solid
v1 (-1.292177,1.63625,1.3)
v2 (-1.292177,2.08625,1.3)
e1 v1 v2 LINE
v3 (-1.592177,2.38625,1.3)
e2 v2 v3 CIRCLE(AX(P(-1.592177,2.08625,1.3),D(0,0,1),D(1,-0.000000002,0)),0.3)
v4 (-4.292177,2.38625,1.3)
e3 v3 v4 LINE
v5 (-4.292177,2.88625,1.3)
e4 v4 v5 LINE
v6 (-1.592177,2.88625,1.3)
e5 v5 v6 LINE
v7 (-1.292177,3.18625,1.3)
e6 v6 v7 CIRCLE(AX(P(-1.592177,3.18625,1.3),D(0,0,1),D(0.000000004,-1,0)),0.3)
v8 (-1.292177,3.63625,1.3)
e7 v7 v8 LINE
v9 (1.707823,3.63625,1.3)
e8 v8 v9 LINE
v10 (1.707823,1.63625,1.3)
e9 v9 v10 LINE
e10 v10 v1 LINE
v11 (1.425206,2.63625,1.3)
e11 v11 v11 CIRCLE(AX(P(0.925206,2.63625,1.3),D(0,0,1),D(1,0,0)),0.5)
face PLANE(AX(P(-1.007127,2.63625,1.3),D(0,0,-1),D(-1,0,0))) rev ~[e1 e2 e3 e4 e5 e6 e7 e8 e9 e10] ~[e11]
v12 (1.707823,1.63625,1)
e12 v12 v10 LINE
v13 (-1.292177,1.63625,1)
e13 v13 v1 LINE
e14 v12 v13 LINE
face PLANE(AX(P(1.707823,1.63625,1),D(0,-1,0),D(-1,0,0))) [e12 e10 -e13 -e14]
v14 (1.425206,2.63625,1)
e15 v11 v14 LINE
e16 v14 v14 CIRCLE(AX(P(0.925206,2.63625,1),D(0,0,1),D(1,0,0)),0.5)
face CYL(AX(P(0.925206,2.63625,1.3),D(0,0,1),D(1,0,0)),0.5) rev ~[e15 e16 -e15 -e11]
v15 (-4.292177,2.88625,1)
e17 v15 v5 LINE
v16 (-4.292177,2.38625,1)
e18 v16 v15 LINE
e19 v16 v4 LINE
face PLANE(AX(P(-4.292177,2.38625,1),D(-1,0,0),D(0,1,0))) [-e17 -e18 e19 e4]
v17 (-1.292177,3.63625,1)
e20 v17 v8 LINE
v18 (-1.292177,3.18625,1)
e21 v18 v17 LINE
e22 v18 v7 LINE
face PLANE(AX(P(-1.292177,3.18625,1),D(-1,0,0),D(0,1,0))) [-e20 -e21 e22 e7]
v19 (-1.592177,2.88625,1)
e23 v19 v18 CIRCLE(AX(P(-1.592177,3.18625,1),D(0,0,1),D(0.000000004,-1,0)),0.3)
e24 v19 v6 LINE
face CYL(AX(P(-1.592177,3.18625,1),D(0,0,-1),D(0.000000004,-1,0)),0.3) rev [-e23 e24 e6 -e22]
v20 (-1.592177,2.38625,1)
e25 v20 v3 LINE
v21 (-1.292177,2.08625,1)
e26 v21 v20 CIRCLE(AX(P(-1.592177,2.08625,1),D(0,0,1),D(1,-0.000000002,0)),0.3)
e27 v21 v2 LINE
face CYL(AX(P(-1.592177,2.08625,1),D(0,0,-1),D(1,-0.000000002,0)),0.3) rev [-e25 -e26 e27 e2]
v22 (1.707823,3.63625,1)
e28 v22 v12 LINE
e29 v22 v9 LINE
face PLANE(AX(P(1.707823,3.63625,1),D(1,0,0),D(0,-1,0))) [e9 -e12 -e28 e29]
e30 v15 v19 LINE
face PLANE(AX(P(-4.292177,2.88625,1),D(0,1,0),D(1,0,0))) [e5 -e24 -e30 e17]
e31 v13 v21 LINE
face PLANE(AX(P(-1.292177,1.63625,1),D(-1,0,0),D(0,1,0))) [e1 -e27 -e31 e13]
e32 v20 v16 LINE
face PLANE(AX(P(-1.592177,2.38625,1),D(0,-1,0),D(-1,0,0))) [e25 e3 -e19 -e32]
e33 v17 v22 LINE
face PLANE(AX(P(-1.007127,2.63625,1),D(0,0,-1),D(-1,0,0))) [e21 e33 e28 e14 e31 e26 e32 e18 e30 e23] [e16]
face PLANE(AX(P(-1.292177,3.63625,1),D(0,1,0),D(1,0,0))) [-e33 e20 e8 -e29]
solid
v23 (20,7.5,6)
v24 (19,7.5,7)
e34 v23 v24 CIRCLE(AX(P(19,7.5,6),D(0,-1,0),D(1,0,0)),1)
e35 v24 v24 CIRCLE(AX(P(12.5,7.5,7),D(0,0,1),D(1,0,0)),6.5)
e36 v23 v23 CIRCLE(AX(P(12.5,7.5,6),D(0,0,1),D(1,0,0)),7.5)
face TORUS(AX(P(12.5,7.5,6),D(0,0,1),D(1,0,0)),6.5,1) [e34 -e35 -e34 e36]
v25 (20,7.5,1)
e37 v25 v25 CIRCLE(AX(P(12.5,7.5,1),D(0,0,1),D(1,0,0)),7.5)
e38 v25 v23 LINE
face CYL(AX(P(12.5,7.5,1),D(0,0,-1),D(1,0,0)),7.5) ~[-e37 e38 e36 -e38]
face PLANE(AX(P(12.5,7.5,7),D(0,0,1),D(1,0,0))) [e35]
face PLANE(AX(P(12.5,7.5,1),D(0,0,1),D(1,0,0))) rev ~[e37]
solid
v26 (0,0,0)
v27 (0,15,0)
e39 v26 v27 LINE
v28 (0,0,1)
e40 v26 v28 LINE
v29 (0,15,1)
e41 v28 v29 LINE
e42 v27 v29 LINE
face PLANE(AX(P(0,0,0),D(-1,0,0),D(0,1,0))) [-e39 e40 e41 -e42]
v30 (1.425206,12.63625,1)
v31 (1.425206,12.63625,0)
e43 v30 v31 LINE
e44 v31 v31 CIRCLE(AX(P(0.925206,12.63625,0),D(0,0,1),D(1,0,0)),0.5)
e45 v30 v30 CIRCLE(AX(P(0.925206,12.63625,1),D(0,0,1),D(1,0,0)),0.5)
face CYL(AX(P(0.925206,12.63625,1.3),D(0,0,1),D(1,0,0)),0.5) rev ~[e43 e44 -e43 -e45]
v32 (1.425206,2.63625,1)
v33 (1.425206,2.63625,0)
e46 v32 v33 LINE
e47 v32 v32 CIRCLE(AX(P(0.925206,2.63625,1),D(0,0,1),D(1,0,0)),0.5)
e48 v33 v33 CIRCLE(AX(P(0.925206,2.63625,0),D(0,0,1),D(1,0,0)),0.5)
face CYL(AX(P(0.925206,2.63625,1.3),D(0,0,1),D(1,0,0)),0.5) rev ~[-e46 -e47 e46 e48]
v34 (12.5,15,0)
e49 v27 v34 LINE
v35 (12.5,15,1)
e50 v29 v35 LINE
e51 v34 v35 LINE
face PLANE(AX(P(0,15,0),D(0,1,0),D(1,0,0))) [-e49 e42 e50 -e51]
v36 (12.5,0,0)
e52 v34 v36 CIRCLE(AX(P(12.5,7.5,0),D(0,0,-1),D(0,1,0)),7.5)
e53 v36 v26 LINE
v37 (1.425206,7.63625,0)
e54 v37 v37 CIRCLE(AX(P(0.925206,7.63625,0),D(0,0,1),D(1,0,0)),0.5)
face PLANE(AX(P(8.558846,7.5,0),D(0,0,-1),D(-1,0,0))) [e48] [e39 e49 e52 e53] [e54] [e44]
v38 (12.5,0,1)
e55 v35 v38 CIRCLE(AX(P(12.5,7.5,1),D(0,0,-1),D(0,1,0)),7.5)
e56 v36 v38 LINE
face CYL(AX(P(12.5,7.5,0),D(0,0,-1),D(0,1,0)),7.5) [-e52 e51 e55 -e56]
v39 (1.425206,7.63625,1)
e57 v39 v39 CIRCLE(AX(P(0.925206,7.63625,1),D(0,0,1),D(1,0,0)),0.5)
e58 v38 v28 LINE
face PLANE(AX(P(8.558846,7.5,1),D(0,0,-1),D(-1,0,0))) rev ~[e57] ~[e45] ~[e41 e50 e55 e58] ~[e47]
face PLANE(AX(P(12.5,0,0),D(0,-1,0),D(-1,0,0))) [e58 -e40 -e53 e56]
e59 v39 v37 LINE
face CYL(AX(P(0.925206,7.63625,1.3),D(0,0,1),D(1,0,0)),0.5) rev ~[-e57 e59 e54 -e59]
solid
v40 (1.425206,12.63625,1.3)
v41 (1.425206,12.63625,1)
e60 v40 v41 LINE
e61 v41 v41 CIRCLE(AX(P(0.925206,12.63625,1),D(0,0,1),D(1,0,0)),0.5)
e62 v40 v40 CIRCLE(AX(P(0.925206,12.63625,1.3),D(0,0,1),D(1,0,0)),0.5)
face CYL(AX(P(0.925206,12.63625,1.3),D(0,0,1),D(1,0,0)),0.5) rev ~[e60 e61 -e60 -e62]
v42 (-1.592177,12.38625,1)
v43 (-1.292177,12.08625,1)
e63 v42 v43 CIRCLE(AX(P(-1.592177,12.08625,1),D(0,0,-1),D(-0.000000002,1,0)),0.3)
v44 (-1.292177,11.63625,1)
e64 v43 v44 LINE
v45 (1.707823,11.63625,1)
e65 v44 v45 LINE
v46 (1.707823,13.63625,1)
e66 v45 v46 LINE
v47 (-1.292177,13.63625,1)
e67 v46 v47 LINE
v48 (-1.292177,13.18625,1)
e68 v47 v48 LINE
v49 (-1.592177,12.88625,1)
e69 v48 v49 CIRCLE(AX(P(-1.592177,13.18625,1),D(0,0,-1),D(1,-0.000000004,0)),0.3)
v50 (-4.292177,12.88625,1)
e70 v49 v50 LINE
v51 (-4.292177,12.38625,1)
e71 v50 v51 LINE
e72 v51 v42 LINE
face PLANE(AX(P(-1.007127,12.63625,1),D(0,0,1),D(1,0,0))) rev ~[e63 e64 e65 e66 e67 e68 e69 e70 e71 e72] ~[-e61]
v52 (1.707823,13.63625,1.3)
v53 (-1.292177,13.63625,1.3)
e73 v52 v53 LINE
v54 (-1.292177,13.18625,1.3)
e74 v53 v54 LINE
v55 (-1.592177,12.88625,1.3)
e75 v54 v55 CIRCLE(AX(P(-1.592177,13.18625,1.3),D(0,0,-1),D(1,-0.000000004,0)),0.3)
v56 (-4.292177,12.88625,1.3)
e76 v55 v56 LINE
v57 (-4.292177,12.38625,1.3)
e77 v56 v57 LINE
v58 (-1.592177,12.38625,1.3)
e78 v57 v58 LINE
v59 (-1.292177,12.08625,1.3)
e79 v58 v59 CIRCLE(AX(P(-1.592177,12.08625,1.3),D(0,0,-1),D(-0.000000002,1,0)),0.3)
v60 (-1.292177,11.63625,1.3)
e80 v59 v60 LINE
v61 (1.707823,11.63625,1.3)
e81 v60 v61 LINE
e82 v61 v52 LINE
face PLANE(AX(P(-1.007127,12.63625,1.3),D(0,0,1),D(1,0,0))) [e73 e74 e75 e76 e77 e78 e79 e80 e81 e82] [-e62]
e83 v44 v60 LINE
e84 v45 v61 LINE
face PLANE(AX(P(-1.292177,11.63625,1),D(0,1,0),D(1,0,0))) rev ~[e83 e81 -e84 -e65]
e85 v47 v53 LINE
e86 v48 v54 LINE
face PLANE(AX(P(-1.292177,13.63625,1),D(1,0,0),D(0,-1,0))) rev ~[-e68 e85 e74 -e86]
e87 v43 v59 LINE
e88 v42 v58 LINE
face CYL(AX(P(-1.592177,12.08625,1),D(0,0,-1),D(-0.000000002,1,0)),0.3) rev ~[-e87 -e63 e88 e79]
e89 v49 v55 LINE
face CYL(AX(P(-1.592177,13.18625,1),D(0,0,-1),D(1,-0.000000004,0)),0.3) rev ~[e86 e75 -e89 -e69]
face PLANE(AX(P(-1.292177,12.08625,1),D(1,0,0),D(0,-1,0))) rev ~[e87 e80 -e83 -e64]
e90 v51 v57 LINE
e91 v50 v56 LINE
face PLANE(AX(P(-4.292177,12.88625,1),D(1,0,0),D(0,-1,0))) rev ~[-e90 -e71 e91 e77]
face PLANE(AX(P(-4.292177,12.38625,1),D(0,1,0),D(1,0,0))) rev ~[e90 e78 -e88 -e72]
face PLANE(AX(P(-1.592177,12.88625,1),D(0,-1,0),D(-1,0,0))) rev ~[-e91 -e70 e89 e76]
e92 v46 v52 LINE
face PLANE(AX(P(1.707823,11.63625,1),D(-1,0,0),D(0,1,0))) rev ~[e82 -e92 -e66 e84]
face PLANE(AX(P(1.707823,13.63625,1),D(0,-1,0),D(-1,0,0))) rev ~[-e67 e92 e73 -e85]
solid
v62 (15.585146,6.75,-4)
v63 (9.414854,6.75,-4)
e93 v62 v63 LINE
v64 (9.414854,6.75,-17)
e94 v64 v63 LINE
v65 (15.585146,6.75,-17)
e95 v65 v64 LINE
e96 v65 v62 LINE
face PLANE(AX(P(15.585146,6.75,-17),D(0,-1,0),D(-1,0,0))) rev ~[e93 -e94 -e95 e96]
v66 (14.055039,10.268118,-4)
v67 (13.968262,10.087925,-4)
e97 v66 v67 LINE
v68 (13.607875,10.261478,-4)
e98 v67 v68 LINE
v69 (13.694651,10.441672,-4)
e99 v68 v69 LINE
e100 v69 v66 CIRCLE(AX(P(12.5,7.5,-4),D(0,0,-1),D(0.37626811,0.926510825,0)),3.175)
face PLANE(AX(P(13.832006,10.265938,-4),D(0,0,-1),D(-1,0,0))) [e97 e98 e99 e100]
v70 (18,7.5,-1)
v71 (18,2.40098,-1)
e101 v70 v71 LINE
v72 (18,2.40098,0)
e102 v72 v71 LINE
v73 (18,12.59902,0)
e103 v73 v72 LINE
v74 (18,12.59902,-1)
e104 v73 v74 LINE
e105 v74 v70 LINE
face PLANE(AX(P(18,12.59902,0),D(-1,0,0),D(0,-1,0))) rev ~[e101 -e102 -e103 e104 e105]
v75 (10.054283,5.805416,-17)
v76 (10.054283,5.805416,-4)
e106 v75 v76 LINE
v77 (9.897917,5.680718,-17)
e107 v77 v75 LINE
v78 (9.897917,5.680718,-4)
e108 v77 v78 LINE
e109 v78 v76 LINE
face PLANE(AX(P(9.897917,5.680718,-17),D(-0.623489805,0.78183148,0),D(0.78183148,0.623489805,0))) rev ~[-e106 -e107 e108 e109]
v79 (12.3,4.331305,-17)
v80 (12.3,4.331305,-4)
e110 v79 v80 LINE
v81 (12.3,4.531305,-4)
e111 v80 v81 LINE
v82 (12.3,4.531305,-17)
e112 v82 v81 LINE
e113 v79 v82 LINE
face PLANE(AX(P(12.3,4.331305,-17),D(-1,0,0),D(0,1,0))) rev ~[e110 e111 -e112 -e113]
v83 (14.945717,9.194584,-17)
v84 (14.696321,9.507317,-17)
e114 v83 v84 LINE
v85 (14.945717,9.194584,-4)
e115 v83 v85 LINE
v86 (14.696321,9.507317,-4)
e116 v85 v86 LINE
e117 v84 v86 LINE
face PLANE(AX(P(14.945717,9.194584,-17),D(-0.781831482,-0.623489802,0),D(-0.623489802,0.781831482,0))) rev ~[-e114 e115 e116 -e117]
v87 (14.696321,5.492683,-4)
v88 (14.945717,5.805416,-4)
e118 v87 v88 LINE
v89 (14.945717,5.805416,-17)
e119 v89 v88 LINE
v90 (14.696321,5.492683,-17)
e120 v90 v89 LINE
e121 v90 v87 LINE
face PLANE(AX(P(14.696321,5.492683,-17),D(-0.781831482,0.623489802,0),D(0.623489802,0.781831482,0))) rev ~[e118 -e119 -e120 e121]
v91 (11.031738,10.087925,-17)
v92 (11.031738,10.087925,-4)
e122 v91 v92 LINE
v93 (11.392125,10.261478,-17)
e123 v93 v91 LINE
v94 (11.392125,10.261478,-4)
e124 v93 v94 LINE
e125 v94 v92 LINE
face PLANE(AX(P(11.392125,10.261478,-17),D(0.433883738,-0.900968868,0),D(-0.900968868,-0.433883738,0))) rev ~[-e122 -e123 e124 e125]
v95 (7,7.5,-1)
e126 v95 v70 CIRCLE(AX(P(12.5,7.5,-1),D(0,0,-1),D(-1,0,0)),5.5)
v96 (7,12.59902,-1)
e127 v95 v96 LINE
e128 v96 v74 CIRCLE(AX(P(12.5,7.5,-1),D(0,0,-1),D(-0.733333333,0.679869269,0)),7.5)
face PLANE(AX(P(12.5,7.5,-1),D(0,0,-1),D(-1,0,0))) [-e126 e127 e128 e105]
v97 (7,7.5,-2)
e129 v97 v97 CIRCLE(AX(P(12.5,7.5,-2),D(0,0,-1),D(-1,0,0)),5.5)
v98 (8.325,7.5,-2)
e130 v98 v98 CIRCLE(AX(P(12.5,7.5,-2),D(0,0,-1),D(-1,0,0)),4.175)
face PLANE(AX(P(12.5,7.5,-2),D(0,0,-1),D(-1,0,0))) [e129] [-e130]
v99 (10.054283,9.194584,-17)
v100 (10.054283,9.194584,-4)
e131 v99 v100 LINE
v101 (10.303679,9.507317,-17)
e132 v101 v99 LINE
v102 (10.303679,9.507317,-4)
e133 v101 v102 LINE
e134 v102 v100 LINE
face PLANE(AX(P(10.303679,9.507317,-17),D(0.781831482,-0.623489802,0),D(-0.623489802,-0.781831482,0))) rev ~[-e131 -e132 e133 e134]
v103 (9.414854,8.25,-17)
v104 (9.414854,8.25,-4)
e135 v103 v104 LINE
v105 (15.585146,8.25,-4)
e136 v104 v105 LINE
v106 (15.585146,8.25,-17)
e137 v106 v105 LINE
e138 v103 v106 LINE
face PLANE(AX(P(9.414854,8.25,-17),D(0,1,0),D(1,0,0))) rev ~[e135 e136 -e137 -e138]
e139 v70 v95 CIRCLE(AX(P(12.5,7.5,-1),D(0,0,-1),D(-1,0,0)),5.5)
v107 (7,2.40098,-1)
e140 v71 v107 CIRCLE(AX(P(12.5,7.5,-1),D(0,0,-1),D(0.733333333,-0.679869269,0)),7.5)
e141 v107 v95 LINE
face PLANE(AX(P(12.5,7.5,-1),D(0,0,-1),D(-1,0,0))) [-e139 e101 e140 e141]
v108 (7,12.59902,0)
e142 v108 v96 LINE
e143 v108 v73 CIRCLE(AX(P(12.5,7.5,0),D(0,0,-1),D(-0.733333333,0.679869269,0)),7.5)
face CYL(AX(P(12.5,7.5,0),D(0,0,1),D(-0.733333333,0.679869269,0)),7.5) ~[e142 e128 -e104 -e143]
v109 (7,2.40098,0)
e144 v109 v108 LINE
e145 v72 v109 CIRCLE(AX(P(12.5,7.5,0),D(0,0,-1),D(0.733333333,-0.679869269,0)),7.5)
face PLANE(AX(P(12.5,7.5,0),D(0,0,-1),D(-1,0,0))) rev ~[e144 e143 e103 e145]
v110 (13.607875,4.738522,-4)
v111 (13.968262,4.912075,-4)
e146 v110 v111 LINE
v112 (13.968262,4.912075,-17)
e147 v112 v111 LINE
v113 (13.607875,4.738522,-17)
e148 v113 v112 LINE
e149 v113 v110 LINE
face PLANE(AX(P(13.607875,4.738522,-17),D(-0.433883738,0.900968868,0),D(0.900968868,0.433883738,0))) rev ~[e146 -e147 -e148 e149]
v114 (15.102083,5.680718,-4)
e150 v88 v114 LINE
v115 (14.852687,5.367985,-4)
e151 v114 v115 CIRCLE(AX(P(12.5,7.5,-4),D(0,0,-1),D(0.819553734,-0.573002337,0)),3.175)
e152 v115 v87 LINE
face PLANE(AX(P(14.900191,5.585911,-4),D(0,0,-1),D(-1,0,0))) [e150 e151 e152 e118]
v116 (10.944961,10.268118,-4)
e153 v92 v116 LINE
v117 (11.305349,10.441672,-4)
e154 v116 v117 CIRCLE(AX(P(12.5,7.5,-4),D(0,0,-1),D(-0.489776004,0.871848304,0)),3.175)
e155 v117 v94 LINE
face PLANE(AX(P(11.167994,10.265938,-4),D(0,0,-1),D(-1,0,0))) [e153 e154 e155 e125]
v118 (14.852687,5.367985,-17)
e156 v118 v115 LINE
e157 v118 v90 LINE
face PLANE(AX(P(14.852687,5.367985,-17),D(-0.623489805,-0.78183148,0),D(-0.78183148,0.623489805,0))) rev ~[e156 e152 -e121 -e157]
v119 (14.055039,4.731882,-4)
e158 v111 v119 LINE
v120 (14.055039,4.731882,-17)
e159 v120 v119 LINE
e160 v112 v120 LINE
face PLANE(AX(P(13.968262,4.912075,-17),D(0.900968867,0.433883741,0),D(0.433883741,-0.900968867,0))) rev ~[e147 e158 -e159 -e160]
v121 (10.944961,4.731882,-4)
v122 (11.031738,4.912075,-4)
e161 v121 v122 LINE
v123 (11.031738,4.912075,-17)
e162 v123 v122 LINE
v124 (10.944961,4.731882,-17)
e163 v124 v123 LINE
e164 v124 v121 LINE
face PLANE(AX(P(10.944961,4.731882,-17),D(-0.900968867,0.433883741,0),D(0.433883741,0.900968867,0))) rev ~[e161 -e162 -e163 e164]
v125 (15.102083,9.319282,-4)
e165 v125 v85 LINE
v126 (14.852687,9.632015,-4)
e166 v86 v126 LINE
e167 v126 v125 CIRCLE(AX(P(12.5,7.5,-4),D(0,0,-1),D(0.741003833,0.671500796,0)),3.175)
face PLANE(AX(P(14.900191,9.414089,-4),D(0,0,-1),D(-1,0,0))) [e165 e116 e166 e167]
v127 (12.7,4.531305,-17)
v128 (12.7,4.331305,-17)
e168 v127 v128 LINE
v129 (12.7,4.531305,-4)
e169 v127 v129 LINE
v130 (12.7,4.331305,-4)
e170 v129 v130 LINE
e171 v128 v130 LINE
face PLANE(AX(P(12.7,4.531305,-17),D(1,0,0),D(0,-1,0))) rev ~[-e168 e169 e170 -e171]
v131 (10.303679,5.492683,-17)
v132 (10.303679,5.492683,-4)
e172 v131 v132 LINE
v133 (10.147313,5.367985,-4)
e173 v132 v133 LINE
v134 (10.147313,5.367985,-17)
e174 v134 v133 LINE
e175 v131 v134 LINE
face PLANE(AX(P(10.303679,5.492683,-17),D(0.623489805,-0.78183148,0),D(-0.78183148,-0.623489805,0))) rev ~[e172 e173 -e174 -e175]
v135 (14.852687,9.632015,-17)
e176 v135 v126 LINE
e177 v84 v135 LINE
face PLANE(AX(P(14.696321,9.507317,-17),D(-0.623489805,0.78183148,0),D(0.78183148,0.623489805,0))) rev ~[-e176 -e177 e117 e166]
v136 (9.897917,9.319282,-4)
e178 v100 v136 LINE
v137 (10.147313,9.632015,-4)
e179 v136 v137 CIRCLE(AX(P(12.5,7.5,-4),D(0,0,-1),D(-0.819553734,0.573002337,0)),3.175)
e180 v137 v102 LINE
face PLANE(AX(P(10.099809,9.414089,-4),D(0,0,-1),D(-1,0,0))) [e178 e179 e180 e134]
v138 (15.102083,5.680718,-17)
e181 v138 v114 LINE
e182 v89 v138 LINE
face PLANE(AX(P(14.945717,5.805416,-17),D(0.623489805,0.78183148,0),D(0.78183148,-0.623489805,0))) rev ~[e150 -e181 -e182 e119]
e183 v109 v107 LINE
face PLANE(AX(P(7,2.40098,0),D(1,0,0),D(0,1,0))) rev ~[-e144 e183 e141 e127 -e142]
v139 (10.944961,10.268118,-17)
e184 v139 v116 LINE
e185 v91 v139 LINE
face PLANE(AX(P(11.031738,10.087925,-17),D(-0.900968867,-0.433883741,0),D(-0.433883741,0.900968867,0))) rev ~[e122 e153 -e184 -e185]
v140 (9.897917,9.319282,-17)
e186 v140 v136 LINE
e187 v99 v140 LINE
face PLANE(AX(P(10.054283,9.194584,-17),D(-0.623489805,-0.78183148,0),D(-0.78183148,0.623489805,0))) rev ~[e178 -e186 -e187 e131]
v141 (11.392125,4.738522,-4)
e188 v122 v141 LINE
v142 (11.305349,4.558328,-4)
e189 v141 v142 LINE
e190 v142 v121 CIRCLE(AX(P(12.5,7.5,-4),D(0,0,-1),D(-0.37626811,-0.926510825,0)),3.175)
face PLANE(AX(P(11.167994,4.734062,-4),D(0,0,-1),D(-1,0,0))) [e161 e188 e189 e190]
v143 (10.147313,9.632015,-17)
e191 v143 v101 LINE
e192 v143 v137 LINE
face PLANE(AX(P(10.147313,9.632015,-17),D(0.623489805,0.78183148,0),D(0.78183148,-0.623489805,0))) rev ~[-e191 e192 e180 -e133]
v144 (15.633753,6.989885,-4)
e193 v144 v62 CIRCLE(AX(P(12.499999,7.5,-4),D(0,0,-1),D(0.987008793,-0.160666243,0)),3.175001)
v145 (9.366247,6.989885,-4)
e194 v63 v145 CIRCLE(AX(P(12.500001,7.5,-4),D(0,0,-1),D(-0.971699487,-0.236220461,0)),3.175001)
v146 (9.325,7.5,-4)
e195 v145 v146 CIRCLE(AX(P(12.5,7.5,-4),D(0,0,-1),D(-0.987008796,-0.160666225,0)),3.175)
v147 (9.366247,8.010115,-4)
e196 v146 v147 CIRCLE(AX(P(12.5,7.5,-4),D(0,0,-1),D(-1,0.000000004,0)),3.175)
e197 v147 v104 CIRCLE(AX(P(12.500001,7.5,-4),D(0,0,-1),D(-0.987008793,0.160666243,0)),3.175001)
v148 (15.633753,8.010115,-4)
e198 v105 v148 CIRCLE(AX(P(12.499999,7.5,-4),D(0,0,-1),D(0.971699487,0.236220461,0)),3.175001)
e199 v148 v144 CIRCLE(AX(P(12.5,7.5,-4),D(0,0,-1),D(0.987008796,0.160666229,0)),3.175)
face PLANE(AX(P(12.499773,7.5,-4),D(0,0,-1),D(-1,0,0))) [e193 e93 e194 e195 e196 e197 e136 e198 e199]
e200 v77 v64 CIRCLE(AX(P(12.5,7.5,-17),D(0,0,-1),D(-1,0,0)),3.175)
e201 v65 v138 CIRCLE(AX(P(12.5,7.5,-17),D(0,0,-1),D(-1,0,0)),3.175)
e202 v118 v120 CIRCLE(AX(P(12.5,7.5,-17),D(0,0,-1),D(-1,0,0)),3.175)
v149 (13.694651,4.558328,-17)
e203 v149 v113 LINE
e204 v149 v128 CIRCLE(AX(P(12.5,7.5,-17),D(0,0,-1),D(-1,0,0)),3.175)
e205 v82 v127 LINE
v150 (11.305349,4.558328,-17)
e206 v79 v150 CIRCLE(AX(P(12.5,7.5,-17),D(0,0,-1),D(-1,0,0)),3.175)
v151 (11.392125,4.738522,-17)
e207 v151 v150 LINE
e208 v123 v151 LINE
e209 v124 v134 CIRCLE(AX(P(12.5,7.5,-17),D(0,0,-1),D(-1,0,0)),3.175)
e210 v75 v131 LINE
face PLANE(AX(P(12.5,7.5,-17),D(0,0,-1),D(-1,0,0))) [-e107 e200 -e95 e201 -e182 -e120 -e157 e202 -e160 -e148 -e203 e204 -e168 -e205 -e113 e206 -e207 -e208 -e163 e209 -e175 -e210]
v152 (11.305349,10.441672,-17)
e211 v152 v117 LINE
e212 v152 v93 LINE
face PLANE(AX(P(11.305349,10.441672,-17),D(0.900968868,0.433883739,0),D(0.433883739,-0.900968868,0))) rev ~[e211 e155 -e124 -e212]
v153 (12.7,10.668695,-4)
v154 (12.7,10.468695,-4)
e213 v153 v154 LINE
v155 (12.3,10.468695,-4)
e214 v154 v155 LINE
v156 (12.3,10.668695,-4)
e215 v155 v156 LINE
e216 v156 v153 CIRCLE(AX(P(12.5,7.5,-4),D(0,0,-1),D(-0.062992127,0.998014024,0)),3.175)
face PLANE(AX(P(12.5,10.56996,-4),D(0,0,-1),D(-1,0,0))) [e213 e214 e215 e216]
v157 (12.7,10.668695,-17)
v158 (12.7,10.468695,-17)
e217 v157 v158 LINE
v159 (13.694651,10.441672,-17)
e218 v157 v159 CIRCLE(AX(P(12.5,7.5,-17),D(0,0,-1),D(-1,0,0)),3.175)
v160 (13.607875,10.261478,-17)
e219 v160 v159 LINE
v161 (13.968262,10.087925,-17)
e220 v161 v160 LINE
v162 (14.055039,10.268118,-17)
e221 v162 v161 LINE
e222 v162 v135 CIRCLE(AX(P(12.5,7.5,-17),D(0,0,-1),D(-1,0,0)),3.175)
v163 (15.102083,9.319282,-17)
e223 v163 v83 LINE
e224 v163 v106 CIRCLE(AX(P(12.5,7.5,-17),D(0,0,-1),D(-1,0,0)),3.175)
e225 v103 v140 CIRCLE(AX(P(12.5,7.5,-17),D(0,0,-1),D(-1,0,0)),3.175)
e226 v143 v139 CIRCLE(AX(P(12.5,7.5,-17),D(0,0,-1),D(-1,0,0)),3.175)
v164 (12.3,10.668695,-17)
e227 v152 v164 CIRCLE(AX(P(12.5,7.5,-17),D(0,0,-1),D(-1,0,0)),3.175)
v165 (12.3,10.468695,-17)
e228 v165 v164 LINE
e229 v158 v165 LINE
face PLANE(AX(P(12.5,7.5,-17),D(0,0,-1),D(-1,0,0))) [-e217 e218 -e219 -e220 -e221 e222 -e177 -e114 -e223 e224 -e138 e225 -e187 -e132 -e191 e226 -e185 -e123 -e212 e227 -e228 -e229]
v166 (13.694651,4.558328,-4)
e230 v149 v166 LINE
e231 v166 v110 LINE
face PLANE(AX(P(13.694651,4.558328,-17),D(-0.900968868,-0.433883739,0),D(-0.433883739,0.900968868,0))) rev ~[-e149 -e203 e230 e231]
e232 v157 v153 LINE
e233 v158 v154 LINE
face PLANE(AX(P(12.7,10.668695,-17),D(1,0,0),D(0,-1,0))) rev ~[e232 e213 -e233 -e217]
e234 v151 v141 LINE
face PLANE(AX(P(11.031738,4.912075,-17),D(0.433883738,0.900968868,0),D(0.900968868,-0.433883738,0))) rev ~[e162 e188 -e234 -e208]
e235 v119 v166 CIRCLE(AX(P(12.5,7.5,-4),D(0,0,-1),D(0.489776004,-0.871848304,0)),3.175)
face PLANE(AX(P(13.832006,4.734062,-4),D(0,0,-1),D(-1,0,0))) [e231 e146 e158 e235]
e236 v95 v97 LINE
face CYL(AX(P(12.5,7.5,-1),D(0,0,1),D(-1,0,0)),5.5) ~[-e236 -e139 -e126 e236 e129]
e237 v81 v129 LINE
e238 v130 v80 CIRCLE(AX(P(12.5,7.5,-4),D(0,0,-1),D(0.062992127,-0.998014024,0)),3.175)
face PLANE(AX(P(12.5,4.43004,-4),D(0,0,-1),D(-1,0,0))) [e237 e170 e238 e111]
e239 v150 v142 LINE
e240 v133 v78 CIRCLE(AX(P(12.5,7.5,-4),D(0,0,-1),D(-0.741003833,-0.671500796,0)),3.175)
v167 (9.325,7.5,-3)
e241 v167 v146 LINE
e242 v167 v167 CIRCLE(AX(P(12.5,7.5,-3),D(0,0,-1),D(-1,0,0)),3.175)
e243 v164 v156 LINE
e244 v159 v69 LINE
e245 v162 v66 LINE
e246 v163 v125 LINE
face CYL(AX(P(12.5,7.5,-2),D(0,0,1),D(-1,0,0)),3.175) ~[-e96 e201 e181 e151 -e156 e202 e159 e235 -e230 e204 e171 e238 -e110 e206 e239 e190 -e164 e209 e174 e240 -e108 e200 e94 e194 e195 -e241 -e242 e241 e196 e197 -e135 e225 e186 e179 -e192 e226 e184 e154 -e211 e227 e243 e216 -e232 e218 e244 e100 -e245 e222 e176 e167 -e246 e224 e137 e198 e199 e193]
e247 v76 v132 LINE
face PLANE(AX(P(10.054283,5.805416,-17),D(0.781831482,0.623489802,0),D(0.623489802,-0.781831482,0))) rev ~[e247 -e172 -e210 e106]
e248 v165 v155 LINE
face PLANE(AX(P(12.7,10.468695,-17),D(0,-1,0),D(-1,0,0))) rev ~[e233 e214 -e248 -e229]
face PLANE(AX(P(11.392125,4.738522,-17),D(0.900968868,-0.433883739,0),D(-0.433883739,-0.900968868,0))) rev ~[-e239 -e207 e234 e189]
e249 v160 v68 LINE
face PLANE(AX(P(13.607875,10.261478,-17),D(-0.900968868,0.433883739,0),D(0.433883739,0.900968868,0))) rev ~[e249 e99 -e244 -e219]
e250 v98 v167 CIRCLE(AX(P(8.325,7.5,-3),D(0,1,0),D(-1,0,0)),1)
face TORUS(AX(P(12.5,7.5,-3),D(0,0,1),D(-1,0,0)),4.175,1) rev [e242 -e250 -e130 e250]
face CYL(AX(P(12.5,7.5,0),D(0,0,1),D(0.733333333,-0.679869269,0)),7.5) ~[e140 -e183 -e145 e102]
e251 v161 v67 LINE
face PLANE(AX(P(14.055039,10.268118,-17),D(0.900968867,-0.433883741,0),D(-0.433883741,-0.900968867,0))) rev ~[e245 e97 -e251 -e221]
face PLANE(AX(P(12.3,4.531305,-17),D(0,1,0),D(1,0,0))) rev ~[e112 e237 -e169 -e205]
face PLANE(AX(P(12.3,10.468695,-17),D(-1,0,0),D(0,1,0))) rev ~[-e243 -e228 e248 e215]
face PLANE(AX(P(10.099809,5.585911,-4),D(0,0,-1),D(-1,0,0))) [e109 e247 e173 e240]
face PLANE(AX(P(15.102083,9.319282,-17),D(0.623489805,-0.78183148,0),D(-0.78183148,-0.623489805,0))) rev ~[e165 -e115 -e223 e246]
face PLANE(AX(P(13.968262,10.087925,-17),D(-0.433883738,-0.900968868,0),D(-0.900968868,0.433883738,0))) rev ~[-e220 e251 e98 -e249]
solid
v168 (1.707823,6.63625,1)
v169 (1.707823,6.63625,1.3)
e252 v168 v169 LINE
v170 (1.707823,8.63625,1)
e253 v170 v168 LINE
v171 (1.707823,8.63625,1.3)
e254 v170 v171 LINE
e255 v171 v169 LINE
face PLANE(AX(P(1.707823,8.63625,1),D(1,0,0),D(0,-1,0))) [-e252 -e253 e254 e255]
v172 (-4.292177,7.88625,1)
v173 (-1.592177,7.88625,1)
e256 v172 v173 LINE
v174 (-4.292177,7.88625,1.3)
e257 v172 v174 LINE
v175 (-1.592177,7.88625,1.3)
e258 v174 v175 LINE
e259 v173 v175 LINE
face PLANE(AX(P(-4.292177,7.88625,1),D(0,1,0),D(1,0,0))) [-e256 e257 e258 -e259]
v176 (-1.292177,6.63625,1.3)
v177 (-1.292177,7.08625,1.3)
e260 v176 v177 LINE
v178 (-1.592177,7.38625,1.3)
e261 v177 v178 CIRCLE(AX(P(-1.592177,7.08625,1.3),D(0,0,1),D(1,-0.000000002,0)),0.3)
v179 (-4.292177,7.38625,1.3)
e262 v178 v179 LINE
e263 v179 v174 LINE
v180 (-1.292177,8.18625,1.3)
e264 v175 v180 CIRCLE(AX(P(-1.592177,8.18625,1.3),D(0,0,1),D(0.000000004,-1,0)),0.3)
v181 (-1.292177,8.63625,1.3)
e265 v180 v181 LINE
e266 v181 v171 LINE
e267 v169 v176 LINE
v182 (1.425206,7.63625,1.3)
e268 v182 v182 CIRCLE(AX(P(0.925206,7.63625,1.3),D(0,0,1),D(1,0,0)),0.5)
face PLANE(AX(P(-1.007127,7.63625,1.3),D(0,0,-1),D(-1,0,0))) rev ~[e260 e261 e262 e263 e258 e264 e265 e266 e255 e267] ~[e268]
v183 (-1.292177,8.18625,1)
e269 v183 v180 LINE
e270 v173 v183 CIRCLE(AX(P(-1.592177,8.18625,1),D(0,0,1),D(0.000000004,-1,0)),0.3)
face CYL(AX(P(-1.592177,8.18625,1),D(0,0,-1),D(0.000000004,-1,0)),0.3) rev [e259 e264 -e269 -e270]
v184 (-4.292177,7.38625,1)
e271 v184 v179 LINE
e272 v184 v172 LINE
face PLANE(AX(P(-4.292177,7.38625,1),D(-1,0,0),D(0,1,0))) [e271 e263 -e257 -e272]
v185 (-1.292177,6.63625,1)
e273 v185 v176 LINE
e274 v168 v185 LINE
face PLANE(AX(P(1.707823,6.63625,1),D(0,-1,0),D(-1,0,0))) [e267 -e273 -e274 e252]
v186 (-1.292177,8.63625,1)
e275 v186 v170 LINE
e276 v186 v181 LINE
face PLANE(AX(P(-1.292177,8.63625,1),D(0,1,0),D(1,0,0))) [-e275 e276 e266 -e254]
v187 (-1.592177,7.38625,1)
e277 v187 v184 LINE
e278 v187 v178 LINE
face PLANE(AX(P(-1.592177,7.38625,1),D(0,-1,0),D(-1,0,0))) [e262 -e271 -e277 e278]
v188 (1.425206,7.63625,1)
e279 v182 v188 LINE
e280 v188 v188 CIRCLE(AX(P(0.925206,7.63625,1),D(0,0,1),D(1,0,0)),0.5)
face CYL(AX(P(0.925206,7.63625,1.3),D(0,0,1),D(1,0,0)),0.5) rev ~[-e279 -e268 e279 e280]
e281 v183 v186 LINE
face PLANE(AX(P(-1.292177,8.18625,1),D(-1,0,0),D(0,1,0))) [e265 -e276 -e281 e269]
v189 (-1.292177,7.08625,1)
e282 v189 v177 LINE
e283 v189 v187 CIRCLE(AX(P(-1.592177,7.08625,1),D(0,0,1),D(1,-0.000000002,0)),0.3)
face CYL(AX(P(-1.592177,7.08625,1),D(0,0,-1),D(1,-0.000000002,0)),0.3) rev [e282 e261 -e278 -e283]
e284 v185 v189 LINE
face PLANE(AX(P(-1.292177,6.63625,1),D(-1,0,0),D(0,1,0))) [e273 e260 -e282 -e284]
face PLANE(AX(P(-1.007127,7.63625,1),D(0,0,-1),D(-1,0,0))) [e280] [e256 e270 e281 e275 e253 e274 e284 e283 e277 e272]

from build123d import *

# Parameters (mm, degrees)
SALIENTE_EXTRUIR1_DEPTH   = 1
CROQUIS4_R                = 7.5
SALIENTE_EXTRUIR2_DEPTH   = 6
SALIENTE_EXTRUIR3_DEPTH   = 1
CROQUIS6_R                = 5.5
SALIENTE_EXTRUIR5_DEPTH   = 1
CROQUIS7_R                = 3.175
SALIENTE_EXTRUIR6_DEPTH   = 15
CORTAR_EXTRUIR1_DEPTH     = 13
SALIENTE_EXTRUIR7_DEPTH   = 0.3
SALIENTE_EXTRUIR7_2_DEPTH = 0.3
SALIENTE_EXTRUIR7_3_DEPTH = 0.3
CROQUIS11_R               = 0.5
CORTAR_EXTRUIR2_DEPTH     = 19.3
REDONDEO1_R               = 1
REDONDEO2_R               = 1


with BuildPart() as part:
    # Croquis3 → Saliente-Extruir1 (new body)
    with BuildSketch(Plane.XY):
        with BuildLine():
            Line((12.5, 0), (0, 0))
            Line((0, 0), (0, 15))
            Line((0, 15), (12.5, 15))
            ThreePointArc((12.5, 15), (20, 7.5), (12.5, 0))
        make_face()
    extrude(amount=SALIENTE_EXTRUIR1_DEPTH)


with BuildPart() as body_2:
    # Croquis4 → Saliente-Extruir2 (new body)
    with BuildSketch(Plane.XY.offset(1)):
        with Locations((12.5, 7.5)):
            Circle(CROQUIS4_R)
    extrude(amount=SALIENTE_EXTRUIR2_DEPTH)

    # Redondeo1
    redondeo1_edges = [body_2.edges().sort_by_distance(p)[0] for p in [
        (5, 7.5, 7),
    ]]
    fillet(redondeo1_edges, radius=REDONDEO1_R)


with BuildPart() as body_3:
    # Croquis5 → Saliente-Extruir3 (new body)
    with BuildSketch(Plane(origin=(0, 0, 0), x_dir=(-1, 0, 0), z_dir=(0, 0, -1))):
        with BuildLine():
            Line((-18, 12.599019514), (-18, 2.400980486))
            ThreePointArc((-18, 2.400980486), (-12.5, 0), (-7, 2.400980486))
            Line((-7, 2.400980486), (-7, 12.599019514))
            ThreePointArc((-7, 12.599019514), (-12.5, 15), (-18, 12.599019514))
        make_face()
    extrude(amount=SALIENTE_EXTRUIR3_DEPTH)

    # Croquis6 → Saliente-Extruir5 (add)
    with BuildSketch(Plane(origin=(0, 0, -1), x_dir=(-1, 0, 0), z_dir=(0, 0, -1))):
        with Locations((-12.5, 7.5)):
            Circle(CROQUIS6_R)
    extrude(amount=SALIENTE_EXTRUIR5_DEPTH)

    # Croquis7 → Saliente-Extruir6 (add)
    with BuildSketch(Plane(origin=(0, 0, -2), x_dir=(-1, 0, 0), z_dir=(0, 0, -1))):
        with Locations((-12.5, 7.5)):
            Circle(CROQUIS7_R)
    extrude(amount=SALIENTE_EXTRUIR6_DEPTH)

    # Croquis9 → Cortar-Extruir1 (cut)
    with BuildSketch(Plane(origin=(0, 0, -17), x_dir=(-1, 0, 0), z_dir=(0, 0, -1))):
        with BuildLine():
            Line((-9.626142568, 8.25), (-15.373857432, 8.25))
            Line((-15.373857432, 8.25), (-15.438767343, 7.965611096))
            Line((-15.438767343, 7.965611096), (-15.633752926, 8.010115283))
            ThreePointArc((-15.633752926, 8.010115283), (-15.675, 7.5), (-15.633752926, 6.989884717))
            Line((-15.633752926, 6.989884717), (-15.438767343, 7.034388904))
            Line((-15.438767343, 7.034388904), (-15.373857432, 6.75))
            Line((-15.373857432, 6.75), (-9.626142568, 6.75))
            Line((-9.626142568, 6.75), (-9.561232657, 7.034388904))
            Line((-9.561232657, 7.034388904), (-9.366247074, 6.989884717))
            ThreePointArc((-9.366247074, 6.989884717), (-9.335328569, 7.244109924), (-9.325, 7.5))
            ThreePointArc((-9.325, 7.5), (-9.335328569, 7.755890076), (-9.366247074, 8.010115283))
            Line((-9.366247074, 8.010115283), (-9.561232657, 7.965611096))
            Line((-9.561232657, 7.965611096), (-9.626142568, 8.25))
        make_face()
        with BuildLine():
            Line((-14.696320882, 9.507317058), (-14.852687178, 9.632015019))
            ThreePointArc((-14.852687178, 9.632015019), (-14.982314957, 9.479580121), (-15.102083099, 9.319282426))
            Line((-15.102083099, 9.319282426), (-14.945716803, 9.194584465))
            Line((-14.945716803, 9.194584465), (-14.696320882, 9.507317058))
        make_face()
        with BuildLine():
            Line((-13.607874508, 10.261478094), (-13.694651256, 10.441671868))
            ThreePointArc((-13.694651256, 10.441671868), (-13.877580872, 10.360576156), (-14.055038803, 10.268118372))
            Line((-14.055038803, 10.268118372), (-13.968262055, 10.087924599))
            Line((-13.968262055, 10.087924599), (-13.607874508, 10.261478094))
        make_face()
        with BuildLine():
            ThreePointArc((-12.3, 10.668694526), (-12.5, 10.675), (-12.7, 10.668694526))
            Line((-12.7, 10.668694526), (-12.7, 10.468694526))
            Line((-12.7, 10.468694526), (-12.3, 10.468694526))
            Line((-12.3, 10.468694526), (-12.3, 10.668694526))
        make_face()
        with BuildLine():
            ThreePointArc((-10.944961197, 10.268118372), (-11.122419128, 10.360576156), (-11.305348744, 10.441671868))
            Line((-11.305348744, 10.441671868), (-11.392125492, 10.261478094))
            Line((-11.392125492, 10.261478094), (-11.031737945, 10.087924599))
            Line((-11.031737945, 10.087924599), (-10.944961197, 10.268118372))
        make_face()
        with BuildLine():
            ThreePointArc((-9.897916901, 9.319282426), (-10.017685043, 9.479580121), (-10.147312822, 9.632015019))
            Line((-10.147312822, 9.632015019), (-10.303679118, 9.507317058))
            Line((-10.303679118, 9.507317058), (-10.054283197, 9.194584465))
            Line((-10.054283197, 9.194584465), (-9.897916901, 9.319282426))
        make_face()
        with BuildLine():
            Line((-14.945716803, 5.805415535), (-15.102083099, 5.680717574))
            ThreePointArc((-15.102083099, 5.680717574), (-14.982314957, 5.520419879), (-14.852687178, 5.367984981))
            Line((-14.852687178, 5.367984981), (-14.696320882, 5.492682942))
            Line((-14.696320882, 5.492682942), (-14.945716803, 5.805415535))
        make_face()
        with BuildLine():
            Line((-13.968262055, 4.912075401), (-14.055038803, 4.731881628))
            ThreePointArc((-14.055038803, 4.731881628), (-13.877580872, 4.639423844), (-13.694651256, 4.558328132))
            Line((-13.694651256, 4.558328132), (-13.607874508, 4.738521906))
            Line((-13.607874508, 4.738521906), (-13.968262055, 4.912075401))
        make_face()
        with BuildLine():
            ThreePointArc((-11.305348744, 4.558328132), (-11.122419128, 4.639423844), (-10.944961197, 4.731881628))
            Line((-10.944961197, 4.731881628), (-11.031737945, 4.912075401))
            Line((-11.031737945, 4.912075401), (-11.392125492, 4.738521906))
            Line((-11.392125492, 4.738521906), (-11.305348744, 4.558328132))
        make_face()
        with BuildLine():
            Line((-12.7, 4.531305474), (-12.7, 4.331305474))
            ThreePointArc((-12.7, 4.331305474), (-12.5, 4.325), (-12.3, 4.331305474))
            Line((-12.3, 4.331305474), (-12.3, 4.531305474))
            Line((-12.3, 4.531305474), (-12.7, 4.531305474))
        make_face()
        with BuildLine():
            ThreePointArc((-10.147312822, 5.367984981), (-10.017685043, 5.520419879), (-9.897916901, 5.680717574))
            Line((-9.897916901, 5.680717574), (-10.054283197, 5.805415535))
            Line((-10.054283197, 5.805415535), (-10.303679118, 5.492682942))
            Line((-10.303679118, 5.492682942), (-10.147312822, 5.367984981))
        make_face()
        with BuildLine():
            Line((-15.438767343, 7.034388904), (-15.633752926, 6.989884717))
            ThreePointArc((-15.633752926, 6.989884717), (-15.611761833, 6.869473797), (-15.585145864, 6.75))
            Line((-15.585145864, 6.75), (-15.373857432, 6.75))
            Line((-15.373857432, 6.75), (-15.438767343, 7.034388904))
        make_face()
        with BuildLine():
            ThreePointArc((-9.414854136, 6.75), (-9.388238167, 6.869473797), (-9.366247074, 6.989884717))
            Line((-9.366247074, 6.989884717), (-9.561232657, 7.034388904))
            Line((-9.561232657, 7.034388904), (-9.626142568, 6.75))
            Line((-9.626142568, 6.75), (-9.414854136, 6.75))
        make_face()
        with BuildLine():
            ThreePointArc((-9.366247074, 8.010115283), (-9.388238167, 8.130526203), (-9.414854136, 8.25))
            Line((-9.414854136, 8.25), (-9.626142568, 8.25))
            Line((-9.626142568, 8.25), (-9.561232657, 7.965611096))
            Line((-9.561232657, 7.965611096), (-9.366247074, 8.010115283))
        make_face()
        with BuildLine():
            Line((-15.373857432, 8.25), (-15.585145864, 8.25))
            ThreePointArc((-15.585145864, 8.25), (-15.611761833, 8.130526203), (-15.633752926, 8.010115283))
            Line((-15.633752926, 8.010115283), (-15.438767343, 7.965611096))
            Line((-15.438767343, 7.965611096), (-15.373857432, 8.25))
        make_face()
    extrude(amount=-CORTAR_EXTRUIR1_DEPTH, mode=Mode.SUBTRACT)

    # Redondeo2
    redondeo2_edges = [body_3.edges().sort_by_distance(p)[0] for p in [
        (15.675, 7.5, -2),
    ]]
    fillet(redondeo2_edges, radius=REDONDEO2_R)


with BuildPart() as body_4:
    # Croquis10 → Saliente-Extruir7 (new body)
    with BuildSketch(Plane.XY.offset(1)):
        with BuildLine():
            Line((1.707822632, 13.636249798), (-1.292177368, 13.636249798))
            Line((-1.292177368, 13.636249798), (-1.292177368, 13.186249798))
            ThreePointArc((-1.292177368, 13.186249798), (-1.380045334, 12.974117764), (-1.592177368, 12.886249798))
            Line((-1.592177368, 12.886249798), (-4.292177368, 12.886249798))
            Line((-4.292177368, 12.886249798), (-4.292177368, 12.386249798))
            Line((-4.292177368, 12.386249798), (-1.592177368, 12.386249798))
            ThreePointArc((-1.592177368, 12.386249798), (-1.380045334, 12.298381833), (-1.292177368, 12.086249798))
            Line((-1.292177368, 12.086249798), (-1.292177368, 11.636249798))
            Line((-1.292177368, 11.636249798), (1.707822632, 11.636249798))
            Line((1.707822632, 11.636249798), (1.707822632, 13.636249798))
        make_face()
    extrude(amount=SALIENTE_EXTRUIR7_DEPTH)


with BuildPart() as body_5:
    # Croquis10 → Saliente-Extruir7 2 (new body)
    with BuildSketch(Plane.XY.offset(1)):
        with BuildLine():
            Line((1.707822632, 6.636249798), (-1.292177368, 6.636249798))
            Line((-1.292177368, 6.636249798), (-1.292177368, 7.086249798))
            ThreePointArc((-1.292177368, 7.086249798), (-1.380045334, 7.298381833), (-1.592177368, 7.386249798))
            Line((-1.592177368, 7.386249798), (-4.292177368, 7.386249798))
            Line((-4.292177368, 7.386249798), (-4.292177368, 7.886249798))
            Line((-4.292177368, 7.886249798), (-1.592177368, 7.886249798))
            ThreePointArc((-1.592177368, 7.886249798), (-1.380045334, 7.974117764), (-1.292177368, 8.186249798))
            Line((-1.292177368, 8.186249798), (-1.292177368, 8.636249798))
            Line((-1.292177368, 8.636249798), (1.707822632, 8.636249798))
            Line((1.707822632, 8.636249798), (1.707822632, 6.636249798))
        make_face()
    extrude(amount=SALIENTE_EXTRUIR7_2_DEPTH)


with BuildPart() as body_6:
    # Croquis10 → Saliente-Extruir7 3 (new body)
    with BuildSketch(Plane.XY.offset(1)):
        with BuildLine():
            Line((1.707822632, 1.636249798), (-1.292177368, 1.636249798))
            Line((-1.292177368, 1.636249798), (-1.292177368, 2.086249798))
            ThreePointArc((-1.292177368, 2.086249798), (-1.380045334, 2.298381833), (-1.592177368, 2.386249798))
            Line((-1.592177368, 2.386249798), (-4.292177368, 2.386249798))
            Line((-4.292177368, 2.386249798), (-4.292177368, 2.886249798))
            Line((-4.292177368, 2.886249798), (-1.592177368, 2.886249798))
            ThreePointArc((-1.592177368, 2.886249798), (-1.380045334, 2.974117764), (-1.292177368, 3.186249798))
            Line((-1.292177368, 3.186249798), (-1.292177368, 3.636249798))
            Line((-1.292177368, 3.636249798), (1.707822632, 3.636249798))
            Line((1.707822632, 3.636249798), (1.707822632, 1.636249798))
        make_face()
    extrude(amount=SALIENTE_EXTRUIR7_3_DEPTH)


with BuildPart() as cortar_extruir2_tool:
    # Croquis11 → Cortar-Extruir2 (new body, through all)
    with BuildSketch(Plane.XY.offset(1.3)):
        with Locations((0.925206345, 12.636249798)):
            Circle(CROQUIS11_R)
        with Locations((0.925206345, 7.636249798)):
            Circle(CROQUIS11_R)
        with Locations((0.925206345, 2.636249798)):
            Circle(CROQUIS11_R)
    extrude(amount=-CORTAR_EXTRUIR2_DEPTH)


with BuildPart() as part_1:
    add(part.part)

    # Cortar-Extruir2: cut by cortar_extruir2_tool
    add(cortar_extruir2_tool.part, mode=Mode.SUBTRACT)


with BuildPart() as body_4_1:
    add(body_4.part)

    # Cortar-Extruir2: cut by cortar_extruir2_tool
    add(cortar_extruir2_tool.part, mode=Mode.SUBTRACT)


with BuildPart() as body_5_1:
    add(body_5.part)

    # Cortar-Extruir2: cut by cortar_extruir2_tool
    add(cortar_extruir2_tool.part, mode=Mode.SUBTRACT)


with BuildPart() as body_6_1:
    add(body_6.part)

    # Cortar-Extruir2: cut by cortar_extruir2_tool
    add(cortar_extruir2_tool.part, mode=Mode.SUBTRACT)


solid = Compound([body_2.part, body_3.part, part_1.part, body_4_1.part, body_5_1.part, body_6_1.part])
